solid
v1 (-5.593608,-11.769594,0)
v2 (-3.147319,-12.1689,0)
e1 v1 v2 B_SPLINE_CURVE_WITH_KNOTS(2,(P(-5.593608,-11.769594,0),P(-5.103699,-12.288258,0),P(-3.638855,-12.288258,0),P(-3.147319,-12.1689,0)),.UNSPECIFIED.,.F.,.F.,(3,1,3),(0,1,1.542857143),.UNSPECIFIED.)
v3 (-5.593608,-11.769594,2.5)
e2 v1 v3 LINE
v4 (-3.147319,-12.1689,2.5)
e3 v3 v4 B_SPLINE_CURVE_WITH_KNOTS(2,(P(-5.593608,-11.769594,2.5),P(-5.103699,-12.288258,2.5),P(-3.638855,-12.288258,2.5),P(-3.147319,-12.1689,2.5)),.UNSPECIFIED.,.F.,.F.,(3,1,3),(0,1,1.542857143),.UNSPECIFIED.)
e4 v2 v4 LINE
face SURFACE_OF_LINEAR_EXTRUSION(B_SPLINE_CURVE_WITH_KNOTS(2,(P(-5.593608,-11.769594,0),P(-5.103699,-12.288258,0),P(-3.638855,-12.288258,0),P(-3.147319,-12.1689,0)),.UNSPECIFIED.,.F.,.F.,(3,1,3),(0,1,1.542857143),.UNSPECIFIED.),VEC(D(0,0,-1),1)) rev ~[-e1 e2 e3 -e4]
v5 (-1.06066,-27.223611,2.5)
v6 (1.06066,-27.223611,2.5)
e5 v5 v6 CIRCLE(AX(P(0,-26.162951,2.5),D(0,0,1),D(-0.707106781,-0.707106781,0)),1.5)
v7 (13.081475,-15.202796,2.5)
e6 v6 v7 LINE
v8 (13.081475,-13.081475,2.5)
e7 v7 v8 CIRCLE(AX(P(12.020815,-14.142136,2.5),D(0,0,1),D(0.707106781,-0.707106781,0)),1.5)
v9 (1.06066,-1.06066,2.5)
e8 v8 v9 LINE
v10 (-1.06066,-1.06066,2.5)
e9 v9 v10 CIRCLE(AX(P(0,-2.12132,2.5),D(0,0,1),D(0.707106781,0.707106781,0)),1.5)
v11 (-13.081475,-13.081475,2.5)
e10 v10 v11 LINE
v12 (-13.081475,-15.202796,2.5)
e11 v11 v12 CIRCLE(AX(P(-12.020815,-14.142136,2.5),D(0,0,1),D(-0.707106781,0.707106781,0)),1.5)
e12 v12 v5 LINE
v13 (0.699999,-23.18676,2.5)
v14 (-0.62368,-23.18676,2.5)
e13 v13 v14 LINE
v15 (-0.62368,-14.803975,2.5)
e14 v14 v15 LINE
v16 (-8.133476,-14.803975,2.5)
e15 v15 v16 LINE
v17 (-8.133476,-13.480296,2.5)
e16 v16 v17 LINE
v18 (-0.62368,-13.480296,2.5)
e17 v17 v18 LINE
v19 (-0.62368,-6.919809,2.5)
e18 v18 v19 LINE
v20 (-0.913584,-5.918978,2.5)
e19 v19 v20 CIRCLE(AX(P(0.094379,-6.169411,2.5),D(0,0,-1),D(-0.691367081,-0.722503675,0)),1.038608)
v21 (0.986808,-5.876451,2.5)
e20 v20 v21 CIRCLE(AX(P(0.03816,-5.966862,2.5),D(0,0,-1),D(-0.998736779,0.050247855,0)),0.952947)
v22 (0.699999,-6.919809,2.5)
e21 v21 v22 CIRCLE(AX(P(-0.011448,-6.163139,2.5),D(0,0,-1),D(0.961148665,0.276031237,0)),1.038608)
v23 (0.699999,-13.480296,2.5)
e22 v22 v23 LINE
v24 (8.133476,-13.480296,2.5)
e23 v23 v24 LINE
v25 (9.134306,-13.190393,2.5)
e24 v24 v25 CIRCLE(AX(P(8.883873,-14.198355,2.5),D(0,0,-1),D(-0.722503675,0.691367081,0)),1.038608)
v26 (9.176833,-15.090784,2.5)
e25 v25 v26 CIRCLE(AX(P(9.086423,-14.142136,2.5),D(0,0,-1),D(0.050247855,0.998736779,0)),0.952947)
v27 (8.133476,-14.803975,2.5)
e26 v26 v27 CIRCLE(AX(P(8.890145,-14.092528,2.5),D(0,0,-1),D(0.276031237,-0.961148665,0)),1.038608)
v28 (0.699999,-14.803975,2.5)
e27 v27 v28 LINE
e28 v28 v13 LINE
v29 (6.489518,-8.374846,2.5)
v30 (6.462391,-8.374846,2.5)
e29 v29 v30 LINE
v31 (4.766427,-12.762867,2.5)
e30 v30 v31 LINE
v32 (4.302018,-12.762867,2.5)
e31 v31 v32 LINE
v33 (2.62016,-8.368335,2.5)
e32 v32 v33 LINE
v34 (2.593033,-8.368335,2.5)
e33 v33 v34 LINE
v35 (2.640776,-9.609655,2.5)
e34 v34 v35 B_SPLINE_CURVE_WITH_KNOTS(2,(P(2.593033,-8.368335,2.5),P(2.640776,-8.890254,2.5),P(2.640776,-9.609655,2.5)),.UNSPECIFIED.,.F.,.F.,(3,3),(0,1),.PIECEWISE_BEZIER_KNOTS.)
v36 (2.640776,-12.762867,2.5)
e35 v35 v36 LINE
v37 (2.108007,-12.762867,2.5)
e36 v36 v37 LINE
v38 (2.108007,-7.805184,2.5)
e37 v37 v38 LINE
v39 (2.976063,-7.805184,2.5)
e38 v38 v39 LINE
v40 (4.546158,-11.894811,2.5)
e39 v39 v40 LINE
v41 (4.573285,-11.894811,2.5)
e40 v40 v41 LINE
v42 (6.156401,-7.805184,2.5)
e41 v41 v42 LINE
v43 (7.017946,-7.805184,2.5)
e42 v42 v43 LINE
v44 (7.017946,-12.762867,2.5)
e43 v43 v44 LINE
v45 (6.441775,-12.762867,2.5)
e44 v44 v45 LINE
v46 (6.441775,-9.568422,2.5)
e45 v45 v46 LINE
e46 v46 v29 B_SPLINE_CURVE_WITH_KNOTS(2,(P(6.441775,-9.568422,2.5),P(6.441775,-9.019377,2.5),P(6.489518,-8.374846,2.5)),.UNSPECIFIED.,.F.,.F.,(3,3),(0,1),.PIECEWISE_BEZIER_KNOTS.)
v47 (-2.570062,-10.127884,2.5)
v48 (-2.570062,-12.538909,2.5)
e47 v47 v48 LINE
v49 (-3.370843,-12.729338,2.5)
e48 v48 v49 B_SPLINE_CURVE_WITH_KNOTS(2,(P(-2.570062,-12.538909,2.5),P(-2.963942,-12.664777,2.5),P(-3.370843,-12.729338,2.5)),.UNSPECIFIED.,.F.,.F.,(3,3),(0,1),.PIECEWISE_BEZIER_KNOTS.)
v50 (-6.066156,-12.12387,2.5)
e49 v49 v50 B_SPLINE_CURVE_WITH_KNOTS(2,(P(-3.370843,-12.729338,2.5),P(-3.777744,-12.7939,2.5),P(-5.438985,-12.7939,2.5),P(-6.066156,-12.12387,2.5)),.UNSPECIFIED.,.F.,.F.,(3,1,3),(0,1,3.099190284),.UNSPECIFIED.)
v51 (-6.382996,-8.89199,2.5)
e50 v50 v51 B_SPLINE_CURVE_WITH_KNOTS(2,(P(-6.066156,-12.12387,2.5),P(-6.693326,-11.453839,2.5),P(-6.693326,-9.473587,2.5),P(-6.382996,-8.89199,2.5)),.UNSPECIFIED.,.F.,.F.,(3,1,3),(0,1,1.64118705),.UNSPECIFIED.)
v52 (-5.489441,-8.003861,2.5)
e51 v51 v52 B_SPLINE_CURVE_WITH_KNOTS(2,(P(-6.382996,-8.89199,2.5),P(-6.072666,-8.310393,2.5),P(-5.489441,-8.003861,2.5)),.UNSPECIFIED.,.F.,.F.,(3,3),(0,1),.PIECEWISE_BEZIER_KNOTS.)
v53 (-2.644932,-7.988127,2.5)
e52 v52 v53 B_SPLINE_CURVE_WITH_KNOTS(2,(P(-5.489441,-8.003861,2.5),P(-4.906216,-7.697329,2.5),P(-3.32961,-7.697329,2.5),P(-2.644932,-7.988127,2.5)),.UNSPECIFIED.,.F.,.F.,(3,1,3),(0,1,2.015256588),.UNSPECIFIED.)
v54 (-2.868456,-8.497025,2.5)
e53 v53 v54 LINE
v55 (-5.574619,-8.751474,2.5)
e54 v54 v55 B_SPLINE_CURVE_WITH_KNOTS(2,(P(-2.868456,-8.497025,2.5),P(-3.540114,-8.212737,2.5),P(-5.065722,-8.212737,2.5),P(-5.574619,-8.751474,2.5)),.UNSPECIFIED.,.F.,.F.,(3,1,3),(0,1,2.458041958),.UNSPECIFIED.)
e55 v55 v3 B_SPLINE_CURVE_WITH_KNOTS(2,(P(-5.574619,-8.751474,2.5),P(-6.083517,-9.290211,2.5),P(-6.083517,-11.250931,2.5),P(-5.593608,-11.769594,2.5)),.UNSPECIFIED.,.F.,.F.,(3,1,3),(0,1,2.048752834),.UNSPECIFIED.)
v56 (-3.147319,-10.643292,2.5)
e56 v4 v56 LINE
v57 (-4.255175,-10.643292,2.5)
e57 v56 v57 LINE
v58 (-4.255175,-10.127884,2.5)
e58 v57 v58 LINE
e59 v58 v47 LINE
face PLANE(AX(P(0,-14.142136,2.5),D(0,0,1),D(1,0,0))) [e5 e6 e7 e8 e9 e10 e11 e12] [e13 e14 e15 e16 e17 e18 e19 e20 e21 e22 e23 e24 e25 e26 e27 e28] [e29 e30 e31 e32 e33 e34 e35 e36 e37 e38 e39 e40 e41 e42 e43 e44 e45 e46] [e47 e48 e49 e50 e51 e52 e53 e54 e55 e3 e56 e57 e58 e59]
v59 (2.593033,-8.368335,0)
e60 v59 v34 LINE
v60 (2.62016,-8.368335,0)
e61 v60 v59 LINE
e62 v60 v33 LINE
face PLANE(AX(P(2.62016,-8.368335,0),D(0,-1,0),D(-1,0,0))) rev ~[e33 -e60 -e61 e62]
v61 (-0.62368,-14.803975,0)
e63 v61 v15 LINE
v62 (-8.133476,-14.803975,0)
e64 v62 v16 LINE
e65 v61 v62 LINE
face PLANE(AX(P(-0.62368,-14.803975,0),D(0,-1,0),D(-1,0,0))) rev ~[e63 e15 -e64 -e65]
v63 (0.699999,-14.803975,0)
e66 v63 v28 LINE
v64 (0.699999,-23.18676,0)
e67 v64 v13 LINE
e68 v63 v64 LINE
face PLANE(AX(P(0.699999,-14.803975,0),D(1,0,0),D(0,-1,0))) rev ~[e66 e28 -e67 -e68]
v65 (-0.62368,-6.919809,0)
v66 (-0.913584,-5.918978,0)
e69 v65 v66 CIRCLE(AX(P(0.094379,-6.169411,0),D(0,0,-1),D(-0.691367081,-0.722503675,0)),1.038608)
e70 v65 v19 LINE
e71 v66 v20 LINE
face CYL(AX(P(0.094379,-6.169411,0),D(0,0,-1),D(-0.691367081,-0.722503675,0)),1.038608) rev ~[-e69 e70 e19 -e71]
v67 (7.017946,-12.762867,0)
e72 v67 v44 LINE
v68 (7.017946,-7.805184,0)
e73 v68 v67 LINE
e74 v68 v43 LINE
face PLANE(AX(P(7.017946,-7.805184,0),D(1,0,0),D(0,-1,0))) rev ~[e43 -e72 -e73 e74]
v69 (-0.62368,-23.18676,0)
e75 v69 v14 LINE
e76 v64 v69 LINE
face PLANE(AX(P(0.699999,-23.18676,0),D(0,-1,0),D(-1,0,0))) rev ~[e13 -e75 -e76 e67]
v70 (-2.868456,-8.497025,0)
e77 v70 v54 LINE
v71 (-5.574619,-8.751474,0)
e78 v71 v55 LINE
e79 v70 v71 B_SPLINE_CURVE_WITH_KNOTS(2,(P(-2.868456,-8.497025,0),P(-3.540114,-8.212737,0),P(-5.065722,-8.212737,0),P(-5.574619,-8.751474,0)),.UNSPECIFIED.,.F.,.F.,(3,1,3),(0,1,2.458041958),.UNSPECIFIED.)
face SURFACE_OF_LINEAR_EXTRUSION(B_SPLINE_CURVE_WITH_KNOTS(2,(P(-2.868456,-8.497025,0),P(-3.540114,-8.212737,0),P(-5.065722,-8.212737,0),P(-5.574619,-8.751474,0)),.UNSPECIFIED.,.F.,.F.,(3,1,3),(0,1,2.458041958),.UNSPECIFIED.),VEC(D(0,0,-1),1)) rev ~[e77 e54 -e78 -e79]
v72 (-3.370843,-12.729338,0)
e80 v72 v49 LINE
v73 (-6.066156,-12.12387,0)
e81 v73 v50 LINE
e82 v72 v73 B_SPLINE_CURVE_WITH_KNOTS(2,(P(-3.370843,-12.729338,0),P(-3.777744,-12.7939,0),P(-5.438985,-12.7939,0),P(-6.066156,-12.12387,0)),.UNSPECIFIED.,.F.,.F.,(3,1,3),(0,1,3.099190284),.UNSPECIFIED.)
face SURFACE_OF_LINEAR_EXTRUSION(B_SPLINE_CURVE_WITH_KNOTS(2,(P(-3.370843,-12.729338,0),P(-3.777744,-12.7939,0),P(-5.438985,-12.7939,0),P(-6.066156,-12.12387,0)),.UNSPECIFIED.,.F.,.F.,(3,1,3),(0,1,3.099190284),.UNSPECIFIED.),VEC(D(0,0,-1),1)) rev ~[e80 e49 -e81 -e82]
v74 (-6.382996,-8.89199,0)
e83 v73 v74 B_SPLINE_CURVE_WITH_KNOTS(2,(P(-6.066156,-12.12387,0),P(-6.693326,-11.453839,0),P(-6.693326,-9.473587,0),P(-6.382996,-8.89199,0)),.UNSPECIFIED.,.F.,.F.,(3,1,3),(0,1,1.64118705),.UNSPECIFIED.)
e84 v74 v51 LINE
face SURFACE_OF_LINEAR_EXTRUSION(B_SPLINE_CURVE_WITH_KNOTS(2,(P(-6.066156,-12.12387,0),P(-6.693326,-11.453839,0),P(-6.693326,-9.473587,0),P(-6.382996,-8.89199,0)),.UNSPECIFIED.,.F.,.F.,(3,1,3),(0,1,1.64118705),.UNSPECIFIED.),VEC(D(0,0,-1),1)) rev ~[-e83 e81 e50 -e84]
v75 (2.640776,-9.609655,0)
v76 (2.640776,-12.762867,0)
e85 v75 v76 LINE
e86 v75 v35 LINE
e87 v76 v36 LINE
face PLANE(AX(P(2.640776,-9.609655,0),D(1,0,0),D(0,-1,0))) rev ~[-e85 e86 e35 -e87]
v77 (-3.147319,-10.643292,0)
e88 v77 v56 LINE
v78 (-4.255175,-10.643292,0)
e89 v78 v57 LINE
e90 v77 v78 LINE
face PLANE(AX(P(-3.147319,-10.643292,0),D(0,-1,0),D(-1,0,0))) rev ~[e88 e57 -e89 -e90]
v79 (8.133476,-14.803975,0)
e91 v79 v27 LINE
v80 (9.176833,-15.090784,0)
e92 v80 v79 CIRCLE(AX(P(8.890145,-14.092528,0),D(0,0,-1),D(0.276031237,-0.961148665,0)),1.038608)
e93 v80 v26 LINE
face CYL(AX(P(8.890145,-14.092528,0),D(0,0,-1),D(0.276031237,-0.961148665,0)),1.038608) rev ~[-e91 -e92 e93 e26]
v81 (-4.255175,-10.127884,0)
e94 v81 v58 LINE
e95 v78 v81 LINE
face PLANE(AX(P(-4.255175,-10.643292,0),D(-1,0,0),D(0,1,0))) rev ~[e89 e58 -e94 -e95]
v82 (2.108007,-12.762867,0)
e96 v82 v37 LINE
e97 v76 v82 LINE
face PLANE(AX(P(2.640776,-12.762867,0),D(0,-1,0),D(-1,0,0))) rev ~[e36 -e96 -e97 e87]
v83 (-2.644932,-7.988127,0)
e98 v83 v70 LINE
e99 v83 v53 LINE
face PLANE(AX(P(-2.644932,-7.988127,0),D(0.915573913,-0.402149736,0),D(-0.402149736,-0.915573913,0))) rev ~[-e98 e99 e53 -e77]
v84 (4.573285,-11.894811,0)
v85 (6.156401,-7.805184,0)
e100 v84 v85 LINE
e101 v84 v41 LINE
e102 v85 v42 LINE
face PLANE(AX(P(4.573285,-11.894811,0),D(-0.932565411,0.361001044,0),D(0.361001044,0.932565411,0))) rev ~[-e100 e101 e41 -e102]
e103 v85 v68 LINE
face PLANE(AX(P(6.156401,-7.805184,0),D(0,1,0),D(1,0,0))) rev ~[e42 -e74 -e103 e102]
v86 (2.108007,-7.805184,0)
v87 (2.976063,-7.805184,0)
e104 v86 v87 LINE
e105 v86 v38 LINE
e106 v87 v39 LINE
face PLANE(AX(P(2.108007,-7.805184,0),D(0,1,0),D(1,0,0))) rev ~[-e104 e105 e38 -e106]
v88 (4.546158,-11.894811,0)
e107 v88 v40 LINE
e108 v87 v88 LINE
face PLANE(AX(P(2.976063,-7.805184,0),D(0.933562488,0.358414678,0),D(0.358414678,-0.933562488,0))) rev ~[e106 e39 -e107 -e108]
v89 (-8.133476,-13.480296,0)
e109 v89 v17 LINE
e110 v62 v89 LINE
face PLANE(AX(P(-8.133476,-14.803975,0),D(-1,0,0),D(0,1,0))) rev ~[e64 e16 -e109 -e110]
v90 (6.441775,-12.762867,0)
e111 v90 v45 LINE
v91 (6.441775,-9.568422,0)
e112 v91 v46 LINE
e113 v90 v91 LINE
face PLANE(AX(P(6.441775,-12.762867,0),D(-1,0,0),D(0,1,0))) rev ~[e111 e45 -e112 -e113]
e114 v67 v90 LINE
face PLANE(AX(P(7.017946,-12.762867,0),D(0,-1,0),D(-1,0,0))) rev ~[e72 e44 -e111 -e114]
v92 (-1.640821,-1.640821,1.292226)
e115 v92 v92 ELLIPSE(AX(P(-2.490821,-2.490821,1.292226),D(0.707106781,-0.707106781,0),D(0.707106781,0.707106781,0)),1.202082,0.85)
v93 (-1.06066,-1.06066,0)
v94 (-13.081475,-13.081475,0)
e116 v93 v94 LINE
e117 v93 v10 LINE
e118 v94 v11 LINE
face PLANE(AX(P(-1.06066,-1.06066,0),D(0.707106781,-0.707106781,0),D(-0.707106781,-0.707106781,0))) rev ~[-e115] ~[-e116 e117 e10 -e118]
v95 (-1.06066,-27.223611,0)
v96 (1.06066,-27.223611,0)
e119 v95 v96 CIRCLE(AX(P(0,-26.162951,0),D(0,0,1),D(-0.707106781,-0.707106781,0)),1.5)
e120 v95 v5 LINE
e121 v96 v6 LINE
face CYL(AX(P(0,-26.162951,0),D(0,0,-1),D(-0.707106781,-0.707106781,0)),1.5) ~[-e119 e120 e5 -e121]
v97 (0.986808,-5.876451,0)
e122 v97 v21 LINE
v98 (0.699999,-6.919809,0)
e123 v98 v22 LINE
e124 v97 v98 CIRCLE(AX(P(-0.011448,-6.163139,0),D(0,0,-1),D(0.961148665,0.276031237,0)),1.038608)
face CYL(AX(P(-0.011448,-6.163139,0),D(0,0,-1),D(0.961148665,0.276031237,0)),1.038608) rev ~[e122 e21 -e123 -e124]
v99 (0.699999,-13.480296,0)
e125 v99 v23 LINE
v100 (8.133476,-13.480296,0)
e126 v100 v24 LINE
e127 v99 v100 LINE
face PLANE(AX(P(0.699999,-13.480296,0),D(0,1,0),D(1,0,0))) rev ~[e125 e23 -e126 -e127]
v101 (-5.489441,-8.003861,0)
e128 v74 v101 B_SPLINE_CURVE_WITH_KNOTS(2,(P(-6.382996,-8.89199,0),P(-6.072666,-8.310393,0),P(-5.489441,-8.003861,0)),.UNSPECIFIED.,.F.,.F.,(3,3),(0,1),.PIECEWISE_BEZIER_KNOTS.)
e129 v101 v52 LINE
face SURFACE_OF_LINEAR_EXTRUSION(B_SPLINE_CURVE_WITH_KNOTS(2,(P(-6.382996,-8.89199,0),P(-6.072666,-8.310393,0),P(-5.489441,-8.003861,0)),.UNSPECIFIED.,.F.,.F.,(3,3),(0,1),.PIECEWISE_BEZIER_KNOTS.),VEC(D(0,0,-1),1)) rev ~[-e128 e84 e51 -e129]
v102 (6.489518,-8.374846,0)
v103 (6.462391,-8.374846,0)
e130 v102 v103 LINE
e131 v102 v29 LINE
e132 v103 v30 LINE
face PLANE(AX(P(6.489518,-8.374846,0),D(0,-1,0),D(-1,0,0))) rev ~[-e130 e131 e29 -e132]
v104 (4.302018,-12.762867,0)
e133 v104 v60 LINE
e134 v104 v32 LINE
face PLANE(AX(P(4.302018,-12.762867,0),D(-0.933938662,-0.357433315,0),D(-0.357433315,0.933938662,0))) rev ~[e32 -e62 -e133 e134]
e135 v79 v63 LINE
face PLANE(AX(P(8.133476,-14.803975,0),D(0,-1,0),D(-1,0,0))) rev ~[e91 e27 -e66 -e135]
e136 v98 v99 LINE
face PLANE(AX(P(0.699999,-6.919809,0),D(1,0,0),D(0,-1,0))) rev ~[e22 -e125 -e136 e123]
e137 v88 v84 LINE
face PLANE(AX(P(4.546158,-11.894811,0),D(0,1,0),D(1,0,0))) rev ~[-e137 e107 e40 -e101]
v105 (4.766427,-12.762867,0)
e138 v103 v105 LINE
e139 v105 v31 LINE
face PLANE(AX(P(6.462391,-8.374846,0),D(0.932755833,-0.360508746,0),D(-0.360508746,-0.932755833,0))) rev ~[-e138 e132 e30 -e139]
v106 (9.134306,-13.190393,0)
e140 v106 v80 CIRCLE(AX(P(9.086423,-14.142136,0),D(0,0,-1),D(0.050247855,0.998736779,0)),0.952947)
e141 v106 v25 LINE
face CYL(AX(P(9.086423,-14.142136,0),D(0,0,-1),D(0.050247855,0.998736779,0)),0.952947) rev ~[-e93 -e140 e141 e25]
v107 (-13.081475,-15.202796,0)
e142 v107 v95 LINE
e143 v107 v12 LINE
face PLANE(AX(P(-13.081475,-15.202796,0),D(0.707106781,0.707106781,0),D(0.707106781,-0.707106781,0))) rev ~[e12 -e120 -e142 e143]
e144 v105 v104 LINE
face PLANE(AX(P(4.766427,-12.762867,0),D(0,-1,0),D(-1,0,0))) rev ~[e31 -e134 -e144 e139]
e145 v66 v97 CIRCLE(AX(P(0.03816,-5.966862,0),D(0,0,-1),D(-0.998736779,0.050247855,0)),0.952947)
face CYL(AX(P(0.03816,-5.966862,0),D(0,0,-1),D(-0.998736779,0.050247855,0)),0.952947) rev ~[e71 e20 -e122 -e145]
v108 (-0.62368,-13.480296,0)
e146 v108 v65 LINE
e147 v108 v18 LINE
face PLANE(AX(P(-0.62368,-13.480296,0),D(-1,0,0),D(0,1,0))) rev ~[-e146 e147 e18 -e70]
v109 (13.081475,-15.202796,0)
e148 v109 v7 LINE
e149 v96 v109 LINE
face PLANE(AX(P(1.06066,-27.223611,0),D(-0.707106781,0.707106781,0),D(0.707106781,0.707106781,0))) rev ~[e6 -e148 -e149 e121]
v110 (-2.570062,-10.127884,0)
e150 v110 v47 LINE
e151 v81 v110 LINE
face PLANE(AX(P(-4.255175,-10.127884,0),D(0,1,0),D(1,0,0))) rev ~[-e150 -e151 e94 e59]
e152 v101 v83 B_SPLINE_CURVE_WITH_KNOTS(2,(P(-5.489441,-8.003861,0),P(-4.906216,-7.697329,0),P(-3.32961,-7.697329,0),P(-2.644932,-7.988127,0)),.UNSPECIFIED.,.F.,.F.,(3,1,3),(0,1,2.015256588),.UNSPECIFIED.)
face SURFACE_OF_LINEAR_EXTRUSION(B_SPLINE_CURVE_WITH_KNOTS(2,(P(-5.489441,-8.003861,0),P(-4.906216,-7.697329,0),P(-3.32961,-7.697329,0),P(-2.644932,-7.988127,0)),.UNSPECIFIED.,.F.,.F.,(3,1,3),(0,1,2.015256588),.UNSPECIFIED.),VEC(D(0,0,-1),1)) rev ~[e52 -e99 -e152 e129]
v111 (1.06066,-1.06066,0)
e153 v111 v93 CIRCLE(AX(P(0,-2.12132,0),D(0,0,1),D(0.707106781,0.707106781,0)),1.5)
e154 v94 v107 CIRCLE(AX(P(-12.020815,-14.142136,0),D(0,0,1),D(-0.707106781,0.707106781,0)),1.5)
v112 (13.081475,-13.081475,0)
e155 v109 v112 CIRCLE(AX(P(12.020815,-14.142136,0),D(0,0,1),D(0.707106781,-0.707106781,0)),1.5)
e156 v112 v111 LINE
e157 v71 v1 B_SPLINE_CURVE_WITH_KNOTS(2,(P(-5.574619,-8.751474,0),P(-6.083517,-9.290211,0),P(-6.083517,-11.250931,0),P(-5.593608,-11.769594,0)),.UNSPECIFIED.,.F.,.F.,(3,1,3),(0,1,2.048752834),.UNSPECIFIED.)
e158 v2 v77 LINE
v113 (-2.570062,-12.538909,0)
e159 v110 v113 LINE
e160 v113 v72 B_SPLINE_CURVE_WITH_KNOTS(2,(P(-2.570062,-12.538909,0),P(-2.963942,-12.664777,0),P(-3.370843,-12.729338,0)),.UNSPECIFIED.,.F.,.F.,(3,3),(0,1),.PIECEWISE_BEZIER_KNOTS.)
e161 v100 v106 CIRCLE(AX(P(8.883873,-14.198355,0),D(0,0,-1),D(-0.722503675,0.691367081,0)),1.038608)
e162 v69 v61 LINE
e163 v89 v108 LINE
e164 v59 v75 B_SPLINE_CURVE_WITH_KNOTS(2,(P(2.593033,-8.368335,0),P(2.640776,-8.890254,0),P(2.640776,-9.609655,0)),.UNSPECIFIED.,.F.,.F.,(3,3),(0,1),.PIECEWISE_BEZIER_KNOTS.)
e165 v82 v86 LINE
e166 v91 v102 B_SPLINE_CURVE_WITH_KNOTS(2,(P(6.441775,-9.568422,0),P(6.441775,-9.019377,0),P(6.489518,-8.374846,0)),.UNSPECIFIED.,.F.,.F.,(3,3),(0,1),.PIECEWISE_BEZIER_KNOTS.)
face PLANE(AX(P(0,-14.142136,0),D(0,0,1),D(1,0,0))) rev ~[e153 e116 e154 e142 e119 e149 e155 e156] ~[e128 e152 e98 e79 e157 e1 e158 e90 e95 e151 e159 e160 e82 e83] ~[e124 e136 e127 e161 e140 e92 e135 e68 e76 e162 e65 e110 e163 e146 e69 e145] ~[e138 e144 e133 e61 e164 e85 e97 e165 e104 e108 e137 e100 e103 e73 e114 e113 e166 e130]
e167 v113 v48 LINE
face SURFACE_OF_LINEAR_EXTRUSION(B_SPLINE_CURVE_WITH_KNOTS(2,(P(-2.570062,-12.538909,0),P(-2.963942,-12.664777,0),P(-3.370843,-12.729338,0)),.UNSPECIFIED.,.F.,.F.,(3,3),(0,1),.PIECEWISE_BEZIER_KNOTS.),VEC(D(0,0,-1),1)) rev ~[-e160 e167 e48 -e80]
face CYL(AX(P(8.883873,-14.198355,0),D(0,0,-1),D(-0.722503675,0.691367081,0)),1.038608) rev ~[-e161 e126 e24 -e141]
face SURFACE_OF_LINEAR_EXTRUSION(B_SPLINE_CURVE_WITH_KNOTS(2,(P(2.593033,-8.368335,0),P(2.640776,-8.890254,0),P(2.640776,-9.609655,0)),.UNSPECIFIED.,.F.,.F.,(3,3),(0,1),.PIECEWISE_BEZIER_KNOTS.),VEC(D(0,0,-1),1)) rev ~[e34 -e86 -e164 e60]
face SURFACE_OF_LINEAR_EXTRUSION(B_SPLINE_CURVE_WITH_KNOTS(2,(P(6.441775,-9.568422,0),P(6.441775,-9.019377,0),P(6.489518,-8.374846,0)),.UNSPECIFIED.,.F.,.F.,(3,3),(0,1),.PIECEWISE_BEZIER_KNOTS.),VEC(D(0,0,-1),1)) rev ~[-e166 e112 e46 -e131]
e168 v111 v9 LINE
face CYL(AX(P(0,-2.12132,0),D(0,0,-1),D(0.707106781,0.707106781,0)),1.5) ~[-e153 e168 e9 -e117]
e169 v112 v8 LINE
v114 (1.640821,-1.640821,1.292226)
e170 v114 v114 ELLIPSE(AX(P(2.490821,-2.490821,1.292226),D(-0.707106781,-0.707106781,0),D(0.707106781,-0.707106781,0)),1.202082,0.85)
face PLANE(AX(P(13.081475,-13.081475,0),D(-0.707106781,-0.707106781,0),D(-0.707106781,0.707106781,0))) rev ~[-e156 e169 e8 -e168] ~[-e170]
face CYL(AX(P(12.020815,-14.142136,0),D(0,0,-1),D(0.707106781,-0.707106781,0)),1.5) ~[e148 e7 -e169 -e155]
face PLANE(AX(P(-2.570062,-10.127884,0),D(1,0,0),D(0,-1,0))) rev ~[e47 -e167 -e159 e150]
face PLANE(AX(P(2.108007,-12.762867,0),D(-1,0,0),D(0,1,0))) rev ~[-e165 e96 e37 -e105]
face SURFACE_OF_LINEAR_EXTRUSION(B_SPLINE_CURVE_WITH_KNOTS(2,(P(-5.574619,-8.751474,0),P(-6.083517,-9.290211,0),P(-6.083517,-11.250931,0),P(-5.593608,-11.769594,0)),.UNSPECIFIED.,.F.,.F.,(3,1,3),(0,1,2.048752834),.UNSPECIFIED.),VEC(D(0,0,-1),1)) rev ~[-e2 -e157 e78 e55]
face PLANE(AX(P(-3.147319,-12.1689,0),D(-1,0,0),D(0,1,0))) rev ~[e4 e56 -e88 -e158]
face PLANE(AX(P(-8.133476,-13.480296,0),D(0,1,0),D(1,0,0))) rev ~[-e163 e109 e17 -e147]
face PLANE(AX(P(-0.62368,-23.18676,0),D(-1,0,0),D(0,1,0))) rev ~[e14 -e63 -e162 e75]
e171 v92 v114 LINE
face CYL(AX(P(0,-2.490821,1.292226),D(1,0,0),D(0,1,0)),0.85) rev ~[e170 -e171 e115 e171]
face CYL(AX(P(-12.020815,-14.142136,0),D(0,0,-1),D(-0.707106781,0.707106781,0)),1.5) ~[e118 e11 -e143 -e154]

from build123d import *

# Parameters (mm, degrees)
F1_DEPTH = 2.5
F2_R     = 0.85
F3_DEPTH = 12.5


with BuildPart() as f1:
    # F0 (on Top) → F1 (new body)
    with BuildSketch(Plane.XY):
        with BuildLine():
            Line((13.081475452, -13.081475452), (1.0606601718, -1.0606601718))
            ThreePointArc((1.0606601718, -1.0606601718), (0, -0.6213203436), (-1.0606601718, -1.0606601718))
            Line((-1.0606601718, -1.0606601718), (-13.081475452, -13.081475452))
            ThreePointArc((-13.081475452, -13.081475452), (-13.5208152802, -14.1421356237), (-13.081475452, -15.2027957955))
            Line((-13.081475452, -15.2027957955), (-1.0606601718, -27.2236110757))
            ThreePointArc((-1.0606601718, -27.2236110757), (0, -27.6629509039), (1.0606601718, -27.2236110757))
            Line((1.0606601718, -27.2236110757), (13.081475452, -15.2027957955))
            ThreePointArc((13.081475452, -15.2027957955), (13.5208152802, -14.1421356237), (13.081475452, -13.081475452))
        make_face()
        with BuildLine():
            Line((-4.2551746457, -10.6432923429), (-4.2551746457, -10.1278843568))
            Line((-4.2551746457, -10.1278843568), (-2.5700617985, -10.1278843568))
            Line((-2.5700617985, -10.1278843568), (-2.5700617985, -12.5389086623))
            add(Edge.make_bspline(
                [(-2.5700617985, -12.5389086623), (-2.9639420069, -12.6647767179), (-3.3708430485, -12.7293383498)],
                knots=[0, 0, 0, 1, 1, 1], degree=2))
            add(Edge.make_bspline(
                [(-3.3708430485, -12.7293383498), (-3.7777440902, -12.7938999818), (-4.3137683957, -12.7938999818)],
                knots=[0, 0, 0, 1, 1, 1], degree=2))
            add(Edge.make_bspline(
                [(-4.3137683957, -12.7938999818), (-5.4389854096, -12.7938999818), (-6.0661555485, -12.1238695998)],
                knots=[0, 0, 0, 1, 1, 1], degree=2))
            add(Edge.make_bspline(
                [(-6.0661555485, -12.1238695998), (-6.6933256874, -11.4538392179), (-6.6933256874, -10.2472419957)],
                knots=[0, 0, 0, 1, 1, 1], degree=2))
            add(Edge.make_bspline(
                [(-6.6933256874, -10.2472419957), (-6.6933256874, -9.4735874818), (-6.3829958263, -8.8919902595)],
                knots=[0, 0, 0, 1, 1, 1], degree=2))
            add(Edge.make_bspline(
                [(-6.3829958263, -8.8919902595), (-6.0726659652, -8.3103930373), (-5.4894411388, -8.0038609193)],
                knots=[0, 0, 0, 1, 1, 1], degree=2))
            add(Edge.make_bspline(
                [(-5.4894411388, -8.0038609193), (-4.9062163124, -7.6973288012), (-4.123881243, -7.6973288012)],
                knots=[0, 0, 0, 1, 1, 1], degree=2))
            add(Edge.make_bspline(
                [(-4.123881243, -7.6973288012), (-3.3296104096, -7.6973288012), (-2.6449315902, -7.9881274123)],
                knots=[0, 0, 0, 1, 1, 1], degree=2))
            Line((-2.6449315902, -7.9881274123), (-2.8684558957, -8.4970249818))
            add(Edge.make_bspline(
                [(-2.8684558957, -8.4970249818), (-3.5401138819, -8.2127367873), (-4.1607736041, -8.2127367873)],
                knots=[0, 0, 0, 1, 1, 1], degree=2))
            add(Edge.make_bspline(
                [(-4.1607736041, -8.2127367873), (-5.0657215207, -8.2127367873), (-5.5746190902, -8.7514737665)],
                knots=[0, 0, 0, 1, 1, 1], degree=2))
            add(Edge.make_bspline(
                [(-5.5746190902, -8.7514737665), (-6.0835166596, -9.2902107457), (-6.0835166596, -10.2472419957)],
                knots=[0, 0, 0, 1, 1, 1], degree=2))
            add(Edge.make_bspline(
                [(-6.0835166596, -10.2472419957), (-6.0835166596, -11.2509312318), (-5.5936078055, -11.7695944262)],
                knots=[0, 0, 0, 1, 1, 1], degree=2))
            add(Edge.make_bspline(
                [(-5.5936078055, -11.7695944262), (-5.1036989513, -12.2882576207), (-4.1542631874, -12.2882576207)],
                knots=[0, 0, 0, 1, 1, 1], degree=2))
            add(Edge.make_bspline(
                [(-4.1542631874, -12.2882576207), (-3.6388552013, -12.2882576207), (-3.147318743, -12.1688999818)],
                knots=[0, 0, 0, 1, 1, 1], degree=2))
            Line((-3.147318743, -12.1688999818), (-3.147318743, -10.6432923429))
            Line((-3.147318743, -10.6432923429), (-4.2551746457, -10.6432923429))
        make_face(mode=Mode.SUBTRACT)
        with BuildLine():
            Line((-8.1334756687, -14.8039748892), (-8.1334756687, -13.4802963582))
            Line((-8.1334756687, -13.4802963582), (-0.6236797201, -13.4802963582))
            Line((-0.6236797201, -13.4802963582), (-0.6236797201, -6.9198086858))
            ThreePointArc((-0.6236797201, -6.9198086858), (-0.9032194318, -6.4583786209), (-0.9135835525, -5.9189782686))
            ThreePointArc((-0.9135835525, -5.9189782686), (0.0168397474, -5.0141534426), (0.9868078824, -5.876451129))
            ThreePointArc((0.9868078824, -5.876451129), (0.9900106564, -6.4384308628), (0.6999988109, -6.9198086858))
            Line((0.6999988109, -6.9198086858), (0.6999988109, -13.4802963582))
            Line((0.6999988109, -13.4802963582), (8.1334756687, -13.4802963582))
            ThreePointArc((8.1334756687, -13.4802963582), (8.5949057336, -13.2007566465), (9.134306086, -13.1903925258))
            ThreePointArc((9.134306086, -13.1903925258), (10.0391309119, -14.1208158258), (9.1768332255, -15.0907839607))
            ThreePointArc((9.1768332255, -15.0907839607), (8.6148534917, -15.0939867347), (8.1334756687, -14.8039748892))
            Line((8.1334756687, -14.8039748892), (0.6999988109, -14.8039748892))
            Line((0.6999988109, -14.8039748892), (0.6999988109, -23.1867600232))
            Line((0.6999988109, -23.1867600232), (-0.6236797201, -23.1867600232))
            Line((-0.6236797201, -23.1867600232), (-0.6236797201, -14.8039748892))
            Line((-0.6236797201, -14.8039748892), (-8.1334756687, -14.8039748892))
        make_face(mode=Mode.SUBTRACT)
        with BuildLine():
            Line((4.7664273717, -12.7628665604), (4.3020176494, -12.7628665604))
            Line((4.3020176494, -12.7628665604), (2.6201600105, -8.3683353104))
            Line((2.6201600105, -8.3683353104), (2.5930332744, -8.3683353104))
            add(Edge.make_bspline(
                [(2.5930332744, -8.3683353104), (2.64077633, -8.8902537131), (2.64077633, -9.6096547548)],
                knots=[0, 0, 0, 1, 1, 1], degree=2))
            Line((2.64077633, -9.6096547548), (2.64077633, -12.7628665604))
            Line((2.64077633, -12.7628665604), (2.1080072328, -12.7628665604))
            Line((2.1080072328, -12.7628665604), (2.1080072328, -7.8051842687))
            Line((2.1080072328, -7.8051842687), (2.9760627883, -7.8051842687))
            Line((2.9760627883, -7.8051842687), (4.5461582744, -11.8948110048))
            Line((4.5461582744, -11.8948110048), (4.5732850105, -11.8948110048))
            Line((4.5732850105, -11.8948110048), (6.15640133, -7.8051842687))
            Line((6.15640133, -7.8051842687), (7.0179464689, -7.8051842687))
            Line((7.0179464689, -7.8051842687), (7.0179464689, -12.7628665604))
            Line((7.0179464689, -12.7628665604), (6.4417745939, -12.7628665604))
            Line((6.4417745939, -12.7628665604), (6.4417745939, -9.5684221159))
            add(Edge.make_bspline(
                [(6.4417745939, -9.5684221159), (6.4417745939, -9.019376977), (6.4895176494, -8.374845727)],
                knots=[0, 0, 0, 1, 1, 1], degree=2))
            Line((6.4895176494, -8.374845727), (6.4623909133, -8.374845727))
            Line((6.4623909133, -8.374845727), (4.7664273717, -12.7628665604))
        make_face(mode=Mode.SUBTRACT)
    extrude(amount=F1_DEPTH)

    # F2 (on Right) → F3 (cut, symmetric)
    with BuildSketch(Plane.YZ):
        with Locations((-2.4908210296, 1.292226194)):
            Circle(F2_R)
    extrude(amount=F3_DEPTH, both=True, mode=Mode.SUBTRACT)


solid = f1.part
